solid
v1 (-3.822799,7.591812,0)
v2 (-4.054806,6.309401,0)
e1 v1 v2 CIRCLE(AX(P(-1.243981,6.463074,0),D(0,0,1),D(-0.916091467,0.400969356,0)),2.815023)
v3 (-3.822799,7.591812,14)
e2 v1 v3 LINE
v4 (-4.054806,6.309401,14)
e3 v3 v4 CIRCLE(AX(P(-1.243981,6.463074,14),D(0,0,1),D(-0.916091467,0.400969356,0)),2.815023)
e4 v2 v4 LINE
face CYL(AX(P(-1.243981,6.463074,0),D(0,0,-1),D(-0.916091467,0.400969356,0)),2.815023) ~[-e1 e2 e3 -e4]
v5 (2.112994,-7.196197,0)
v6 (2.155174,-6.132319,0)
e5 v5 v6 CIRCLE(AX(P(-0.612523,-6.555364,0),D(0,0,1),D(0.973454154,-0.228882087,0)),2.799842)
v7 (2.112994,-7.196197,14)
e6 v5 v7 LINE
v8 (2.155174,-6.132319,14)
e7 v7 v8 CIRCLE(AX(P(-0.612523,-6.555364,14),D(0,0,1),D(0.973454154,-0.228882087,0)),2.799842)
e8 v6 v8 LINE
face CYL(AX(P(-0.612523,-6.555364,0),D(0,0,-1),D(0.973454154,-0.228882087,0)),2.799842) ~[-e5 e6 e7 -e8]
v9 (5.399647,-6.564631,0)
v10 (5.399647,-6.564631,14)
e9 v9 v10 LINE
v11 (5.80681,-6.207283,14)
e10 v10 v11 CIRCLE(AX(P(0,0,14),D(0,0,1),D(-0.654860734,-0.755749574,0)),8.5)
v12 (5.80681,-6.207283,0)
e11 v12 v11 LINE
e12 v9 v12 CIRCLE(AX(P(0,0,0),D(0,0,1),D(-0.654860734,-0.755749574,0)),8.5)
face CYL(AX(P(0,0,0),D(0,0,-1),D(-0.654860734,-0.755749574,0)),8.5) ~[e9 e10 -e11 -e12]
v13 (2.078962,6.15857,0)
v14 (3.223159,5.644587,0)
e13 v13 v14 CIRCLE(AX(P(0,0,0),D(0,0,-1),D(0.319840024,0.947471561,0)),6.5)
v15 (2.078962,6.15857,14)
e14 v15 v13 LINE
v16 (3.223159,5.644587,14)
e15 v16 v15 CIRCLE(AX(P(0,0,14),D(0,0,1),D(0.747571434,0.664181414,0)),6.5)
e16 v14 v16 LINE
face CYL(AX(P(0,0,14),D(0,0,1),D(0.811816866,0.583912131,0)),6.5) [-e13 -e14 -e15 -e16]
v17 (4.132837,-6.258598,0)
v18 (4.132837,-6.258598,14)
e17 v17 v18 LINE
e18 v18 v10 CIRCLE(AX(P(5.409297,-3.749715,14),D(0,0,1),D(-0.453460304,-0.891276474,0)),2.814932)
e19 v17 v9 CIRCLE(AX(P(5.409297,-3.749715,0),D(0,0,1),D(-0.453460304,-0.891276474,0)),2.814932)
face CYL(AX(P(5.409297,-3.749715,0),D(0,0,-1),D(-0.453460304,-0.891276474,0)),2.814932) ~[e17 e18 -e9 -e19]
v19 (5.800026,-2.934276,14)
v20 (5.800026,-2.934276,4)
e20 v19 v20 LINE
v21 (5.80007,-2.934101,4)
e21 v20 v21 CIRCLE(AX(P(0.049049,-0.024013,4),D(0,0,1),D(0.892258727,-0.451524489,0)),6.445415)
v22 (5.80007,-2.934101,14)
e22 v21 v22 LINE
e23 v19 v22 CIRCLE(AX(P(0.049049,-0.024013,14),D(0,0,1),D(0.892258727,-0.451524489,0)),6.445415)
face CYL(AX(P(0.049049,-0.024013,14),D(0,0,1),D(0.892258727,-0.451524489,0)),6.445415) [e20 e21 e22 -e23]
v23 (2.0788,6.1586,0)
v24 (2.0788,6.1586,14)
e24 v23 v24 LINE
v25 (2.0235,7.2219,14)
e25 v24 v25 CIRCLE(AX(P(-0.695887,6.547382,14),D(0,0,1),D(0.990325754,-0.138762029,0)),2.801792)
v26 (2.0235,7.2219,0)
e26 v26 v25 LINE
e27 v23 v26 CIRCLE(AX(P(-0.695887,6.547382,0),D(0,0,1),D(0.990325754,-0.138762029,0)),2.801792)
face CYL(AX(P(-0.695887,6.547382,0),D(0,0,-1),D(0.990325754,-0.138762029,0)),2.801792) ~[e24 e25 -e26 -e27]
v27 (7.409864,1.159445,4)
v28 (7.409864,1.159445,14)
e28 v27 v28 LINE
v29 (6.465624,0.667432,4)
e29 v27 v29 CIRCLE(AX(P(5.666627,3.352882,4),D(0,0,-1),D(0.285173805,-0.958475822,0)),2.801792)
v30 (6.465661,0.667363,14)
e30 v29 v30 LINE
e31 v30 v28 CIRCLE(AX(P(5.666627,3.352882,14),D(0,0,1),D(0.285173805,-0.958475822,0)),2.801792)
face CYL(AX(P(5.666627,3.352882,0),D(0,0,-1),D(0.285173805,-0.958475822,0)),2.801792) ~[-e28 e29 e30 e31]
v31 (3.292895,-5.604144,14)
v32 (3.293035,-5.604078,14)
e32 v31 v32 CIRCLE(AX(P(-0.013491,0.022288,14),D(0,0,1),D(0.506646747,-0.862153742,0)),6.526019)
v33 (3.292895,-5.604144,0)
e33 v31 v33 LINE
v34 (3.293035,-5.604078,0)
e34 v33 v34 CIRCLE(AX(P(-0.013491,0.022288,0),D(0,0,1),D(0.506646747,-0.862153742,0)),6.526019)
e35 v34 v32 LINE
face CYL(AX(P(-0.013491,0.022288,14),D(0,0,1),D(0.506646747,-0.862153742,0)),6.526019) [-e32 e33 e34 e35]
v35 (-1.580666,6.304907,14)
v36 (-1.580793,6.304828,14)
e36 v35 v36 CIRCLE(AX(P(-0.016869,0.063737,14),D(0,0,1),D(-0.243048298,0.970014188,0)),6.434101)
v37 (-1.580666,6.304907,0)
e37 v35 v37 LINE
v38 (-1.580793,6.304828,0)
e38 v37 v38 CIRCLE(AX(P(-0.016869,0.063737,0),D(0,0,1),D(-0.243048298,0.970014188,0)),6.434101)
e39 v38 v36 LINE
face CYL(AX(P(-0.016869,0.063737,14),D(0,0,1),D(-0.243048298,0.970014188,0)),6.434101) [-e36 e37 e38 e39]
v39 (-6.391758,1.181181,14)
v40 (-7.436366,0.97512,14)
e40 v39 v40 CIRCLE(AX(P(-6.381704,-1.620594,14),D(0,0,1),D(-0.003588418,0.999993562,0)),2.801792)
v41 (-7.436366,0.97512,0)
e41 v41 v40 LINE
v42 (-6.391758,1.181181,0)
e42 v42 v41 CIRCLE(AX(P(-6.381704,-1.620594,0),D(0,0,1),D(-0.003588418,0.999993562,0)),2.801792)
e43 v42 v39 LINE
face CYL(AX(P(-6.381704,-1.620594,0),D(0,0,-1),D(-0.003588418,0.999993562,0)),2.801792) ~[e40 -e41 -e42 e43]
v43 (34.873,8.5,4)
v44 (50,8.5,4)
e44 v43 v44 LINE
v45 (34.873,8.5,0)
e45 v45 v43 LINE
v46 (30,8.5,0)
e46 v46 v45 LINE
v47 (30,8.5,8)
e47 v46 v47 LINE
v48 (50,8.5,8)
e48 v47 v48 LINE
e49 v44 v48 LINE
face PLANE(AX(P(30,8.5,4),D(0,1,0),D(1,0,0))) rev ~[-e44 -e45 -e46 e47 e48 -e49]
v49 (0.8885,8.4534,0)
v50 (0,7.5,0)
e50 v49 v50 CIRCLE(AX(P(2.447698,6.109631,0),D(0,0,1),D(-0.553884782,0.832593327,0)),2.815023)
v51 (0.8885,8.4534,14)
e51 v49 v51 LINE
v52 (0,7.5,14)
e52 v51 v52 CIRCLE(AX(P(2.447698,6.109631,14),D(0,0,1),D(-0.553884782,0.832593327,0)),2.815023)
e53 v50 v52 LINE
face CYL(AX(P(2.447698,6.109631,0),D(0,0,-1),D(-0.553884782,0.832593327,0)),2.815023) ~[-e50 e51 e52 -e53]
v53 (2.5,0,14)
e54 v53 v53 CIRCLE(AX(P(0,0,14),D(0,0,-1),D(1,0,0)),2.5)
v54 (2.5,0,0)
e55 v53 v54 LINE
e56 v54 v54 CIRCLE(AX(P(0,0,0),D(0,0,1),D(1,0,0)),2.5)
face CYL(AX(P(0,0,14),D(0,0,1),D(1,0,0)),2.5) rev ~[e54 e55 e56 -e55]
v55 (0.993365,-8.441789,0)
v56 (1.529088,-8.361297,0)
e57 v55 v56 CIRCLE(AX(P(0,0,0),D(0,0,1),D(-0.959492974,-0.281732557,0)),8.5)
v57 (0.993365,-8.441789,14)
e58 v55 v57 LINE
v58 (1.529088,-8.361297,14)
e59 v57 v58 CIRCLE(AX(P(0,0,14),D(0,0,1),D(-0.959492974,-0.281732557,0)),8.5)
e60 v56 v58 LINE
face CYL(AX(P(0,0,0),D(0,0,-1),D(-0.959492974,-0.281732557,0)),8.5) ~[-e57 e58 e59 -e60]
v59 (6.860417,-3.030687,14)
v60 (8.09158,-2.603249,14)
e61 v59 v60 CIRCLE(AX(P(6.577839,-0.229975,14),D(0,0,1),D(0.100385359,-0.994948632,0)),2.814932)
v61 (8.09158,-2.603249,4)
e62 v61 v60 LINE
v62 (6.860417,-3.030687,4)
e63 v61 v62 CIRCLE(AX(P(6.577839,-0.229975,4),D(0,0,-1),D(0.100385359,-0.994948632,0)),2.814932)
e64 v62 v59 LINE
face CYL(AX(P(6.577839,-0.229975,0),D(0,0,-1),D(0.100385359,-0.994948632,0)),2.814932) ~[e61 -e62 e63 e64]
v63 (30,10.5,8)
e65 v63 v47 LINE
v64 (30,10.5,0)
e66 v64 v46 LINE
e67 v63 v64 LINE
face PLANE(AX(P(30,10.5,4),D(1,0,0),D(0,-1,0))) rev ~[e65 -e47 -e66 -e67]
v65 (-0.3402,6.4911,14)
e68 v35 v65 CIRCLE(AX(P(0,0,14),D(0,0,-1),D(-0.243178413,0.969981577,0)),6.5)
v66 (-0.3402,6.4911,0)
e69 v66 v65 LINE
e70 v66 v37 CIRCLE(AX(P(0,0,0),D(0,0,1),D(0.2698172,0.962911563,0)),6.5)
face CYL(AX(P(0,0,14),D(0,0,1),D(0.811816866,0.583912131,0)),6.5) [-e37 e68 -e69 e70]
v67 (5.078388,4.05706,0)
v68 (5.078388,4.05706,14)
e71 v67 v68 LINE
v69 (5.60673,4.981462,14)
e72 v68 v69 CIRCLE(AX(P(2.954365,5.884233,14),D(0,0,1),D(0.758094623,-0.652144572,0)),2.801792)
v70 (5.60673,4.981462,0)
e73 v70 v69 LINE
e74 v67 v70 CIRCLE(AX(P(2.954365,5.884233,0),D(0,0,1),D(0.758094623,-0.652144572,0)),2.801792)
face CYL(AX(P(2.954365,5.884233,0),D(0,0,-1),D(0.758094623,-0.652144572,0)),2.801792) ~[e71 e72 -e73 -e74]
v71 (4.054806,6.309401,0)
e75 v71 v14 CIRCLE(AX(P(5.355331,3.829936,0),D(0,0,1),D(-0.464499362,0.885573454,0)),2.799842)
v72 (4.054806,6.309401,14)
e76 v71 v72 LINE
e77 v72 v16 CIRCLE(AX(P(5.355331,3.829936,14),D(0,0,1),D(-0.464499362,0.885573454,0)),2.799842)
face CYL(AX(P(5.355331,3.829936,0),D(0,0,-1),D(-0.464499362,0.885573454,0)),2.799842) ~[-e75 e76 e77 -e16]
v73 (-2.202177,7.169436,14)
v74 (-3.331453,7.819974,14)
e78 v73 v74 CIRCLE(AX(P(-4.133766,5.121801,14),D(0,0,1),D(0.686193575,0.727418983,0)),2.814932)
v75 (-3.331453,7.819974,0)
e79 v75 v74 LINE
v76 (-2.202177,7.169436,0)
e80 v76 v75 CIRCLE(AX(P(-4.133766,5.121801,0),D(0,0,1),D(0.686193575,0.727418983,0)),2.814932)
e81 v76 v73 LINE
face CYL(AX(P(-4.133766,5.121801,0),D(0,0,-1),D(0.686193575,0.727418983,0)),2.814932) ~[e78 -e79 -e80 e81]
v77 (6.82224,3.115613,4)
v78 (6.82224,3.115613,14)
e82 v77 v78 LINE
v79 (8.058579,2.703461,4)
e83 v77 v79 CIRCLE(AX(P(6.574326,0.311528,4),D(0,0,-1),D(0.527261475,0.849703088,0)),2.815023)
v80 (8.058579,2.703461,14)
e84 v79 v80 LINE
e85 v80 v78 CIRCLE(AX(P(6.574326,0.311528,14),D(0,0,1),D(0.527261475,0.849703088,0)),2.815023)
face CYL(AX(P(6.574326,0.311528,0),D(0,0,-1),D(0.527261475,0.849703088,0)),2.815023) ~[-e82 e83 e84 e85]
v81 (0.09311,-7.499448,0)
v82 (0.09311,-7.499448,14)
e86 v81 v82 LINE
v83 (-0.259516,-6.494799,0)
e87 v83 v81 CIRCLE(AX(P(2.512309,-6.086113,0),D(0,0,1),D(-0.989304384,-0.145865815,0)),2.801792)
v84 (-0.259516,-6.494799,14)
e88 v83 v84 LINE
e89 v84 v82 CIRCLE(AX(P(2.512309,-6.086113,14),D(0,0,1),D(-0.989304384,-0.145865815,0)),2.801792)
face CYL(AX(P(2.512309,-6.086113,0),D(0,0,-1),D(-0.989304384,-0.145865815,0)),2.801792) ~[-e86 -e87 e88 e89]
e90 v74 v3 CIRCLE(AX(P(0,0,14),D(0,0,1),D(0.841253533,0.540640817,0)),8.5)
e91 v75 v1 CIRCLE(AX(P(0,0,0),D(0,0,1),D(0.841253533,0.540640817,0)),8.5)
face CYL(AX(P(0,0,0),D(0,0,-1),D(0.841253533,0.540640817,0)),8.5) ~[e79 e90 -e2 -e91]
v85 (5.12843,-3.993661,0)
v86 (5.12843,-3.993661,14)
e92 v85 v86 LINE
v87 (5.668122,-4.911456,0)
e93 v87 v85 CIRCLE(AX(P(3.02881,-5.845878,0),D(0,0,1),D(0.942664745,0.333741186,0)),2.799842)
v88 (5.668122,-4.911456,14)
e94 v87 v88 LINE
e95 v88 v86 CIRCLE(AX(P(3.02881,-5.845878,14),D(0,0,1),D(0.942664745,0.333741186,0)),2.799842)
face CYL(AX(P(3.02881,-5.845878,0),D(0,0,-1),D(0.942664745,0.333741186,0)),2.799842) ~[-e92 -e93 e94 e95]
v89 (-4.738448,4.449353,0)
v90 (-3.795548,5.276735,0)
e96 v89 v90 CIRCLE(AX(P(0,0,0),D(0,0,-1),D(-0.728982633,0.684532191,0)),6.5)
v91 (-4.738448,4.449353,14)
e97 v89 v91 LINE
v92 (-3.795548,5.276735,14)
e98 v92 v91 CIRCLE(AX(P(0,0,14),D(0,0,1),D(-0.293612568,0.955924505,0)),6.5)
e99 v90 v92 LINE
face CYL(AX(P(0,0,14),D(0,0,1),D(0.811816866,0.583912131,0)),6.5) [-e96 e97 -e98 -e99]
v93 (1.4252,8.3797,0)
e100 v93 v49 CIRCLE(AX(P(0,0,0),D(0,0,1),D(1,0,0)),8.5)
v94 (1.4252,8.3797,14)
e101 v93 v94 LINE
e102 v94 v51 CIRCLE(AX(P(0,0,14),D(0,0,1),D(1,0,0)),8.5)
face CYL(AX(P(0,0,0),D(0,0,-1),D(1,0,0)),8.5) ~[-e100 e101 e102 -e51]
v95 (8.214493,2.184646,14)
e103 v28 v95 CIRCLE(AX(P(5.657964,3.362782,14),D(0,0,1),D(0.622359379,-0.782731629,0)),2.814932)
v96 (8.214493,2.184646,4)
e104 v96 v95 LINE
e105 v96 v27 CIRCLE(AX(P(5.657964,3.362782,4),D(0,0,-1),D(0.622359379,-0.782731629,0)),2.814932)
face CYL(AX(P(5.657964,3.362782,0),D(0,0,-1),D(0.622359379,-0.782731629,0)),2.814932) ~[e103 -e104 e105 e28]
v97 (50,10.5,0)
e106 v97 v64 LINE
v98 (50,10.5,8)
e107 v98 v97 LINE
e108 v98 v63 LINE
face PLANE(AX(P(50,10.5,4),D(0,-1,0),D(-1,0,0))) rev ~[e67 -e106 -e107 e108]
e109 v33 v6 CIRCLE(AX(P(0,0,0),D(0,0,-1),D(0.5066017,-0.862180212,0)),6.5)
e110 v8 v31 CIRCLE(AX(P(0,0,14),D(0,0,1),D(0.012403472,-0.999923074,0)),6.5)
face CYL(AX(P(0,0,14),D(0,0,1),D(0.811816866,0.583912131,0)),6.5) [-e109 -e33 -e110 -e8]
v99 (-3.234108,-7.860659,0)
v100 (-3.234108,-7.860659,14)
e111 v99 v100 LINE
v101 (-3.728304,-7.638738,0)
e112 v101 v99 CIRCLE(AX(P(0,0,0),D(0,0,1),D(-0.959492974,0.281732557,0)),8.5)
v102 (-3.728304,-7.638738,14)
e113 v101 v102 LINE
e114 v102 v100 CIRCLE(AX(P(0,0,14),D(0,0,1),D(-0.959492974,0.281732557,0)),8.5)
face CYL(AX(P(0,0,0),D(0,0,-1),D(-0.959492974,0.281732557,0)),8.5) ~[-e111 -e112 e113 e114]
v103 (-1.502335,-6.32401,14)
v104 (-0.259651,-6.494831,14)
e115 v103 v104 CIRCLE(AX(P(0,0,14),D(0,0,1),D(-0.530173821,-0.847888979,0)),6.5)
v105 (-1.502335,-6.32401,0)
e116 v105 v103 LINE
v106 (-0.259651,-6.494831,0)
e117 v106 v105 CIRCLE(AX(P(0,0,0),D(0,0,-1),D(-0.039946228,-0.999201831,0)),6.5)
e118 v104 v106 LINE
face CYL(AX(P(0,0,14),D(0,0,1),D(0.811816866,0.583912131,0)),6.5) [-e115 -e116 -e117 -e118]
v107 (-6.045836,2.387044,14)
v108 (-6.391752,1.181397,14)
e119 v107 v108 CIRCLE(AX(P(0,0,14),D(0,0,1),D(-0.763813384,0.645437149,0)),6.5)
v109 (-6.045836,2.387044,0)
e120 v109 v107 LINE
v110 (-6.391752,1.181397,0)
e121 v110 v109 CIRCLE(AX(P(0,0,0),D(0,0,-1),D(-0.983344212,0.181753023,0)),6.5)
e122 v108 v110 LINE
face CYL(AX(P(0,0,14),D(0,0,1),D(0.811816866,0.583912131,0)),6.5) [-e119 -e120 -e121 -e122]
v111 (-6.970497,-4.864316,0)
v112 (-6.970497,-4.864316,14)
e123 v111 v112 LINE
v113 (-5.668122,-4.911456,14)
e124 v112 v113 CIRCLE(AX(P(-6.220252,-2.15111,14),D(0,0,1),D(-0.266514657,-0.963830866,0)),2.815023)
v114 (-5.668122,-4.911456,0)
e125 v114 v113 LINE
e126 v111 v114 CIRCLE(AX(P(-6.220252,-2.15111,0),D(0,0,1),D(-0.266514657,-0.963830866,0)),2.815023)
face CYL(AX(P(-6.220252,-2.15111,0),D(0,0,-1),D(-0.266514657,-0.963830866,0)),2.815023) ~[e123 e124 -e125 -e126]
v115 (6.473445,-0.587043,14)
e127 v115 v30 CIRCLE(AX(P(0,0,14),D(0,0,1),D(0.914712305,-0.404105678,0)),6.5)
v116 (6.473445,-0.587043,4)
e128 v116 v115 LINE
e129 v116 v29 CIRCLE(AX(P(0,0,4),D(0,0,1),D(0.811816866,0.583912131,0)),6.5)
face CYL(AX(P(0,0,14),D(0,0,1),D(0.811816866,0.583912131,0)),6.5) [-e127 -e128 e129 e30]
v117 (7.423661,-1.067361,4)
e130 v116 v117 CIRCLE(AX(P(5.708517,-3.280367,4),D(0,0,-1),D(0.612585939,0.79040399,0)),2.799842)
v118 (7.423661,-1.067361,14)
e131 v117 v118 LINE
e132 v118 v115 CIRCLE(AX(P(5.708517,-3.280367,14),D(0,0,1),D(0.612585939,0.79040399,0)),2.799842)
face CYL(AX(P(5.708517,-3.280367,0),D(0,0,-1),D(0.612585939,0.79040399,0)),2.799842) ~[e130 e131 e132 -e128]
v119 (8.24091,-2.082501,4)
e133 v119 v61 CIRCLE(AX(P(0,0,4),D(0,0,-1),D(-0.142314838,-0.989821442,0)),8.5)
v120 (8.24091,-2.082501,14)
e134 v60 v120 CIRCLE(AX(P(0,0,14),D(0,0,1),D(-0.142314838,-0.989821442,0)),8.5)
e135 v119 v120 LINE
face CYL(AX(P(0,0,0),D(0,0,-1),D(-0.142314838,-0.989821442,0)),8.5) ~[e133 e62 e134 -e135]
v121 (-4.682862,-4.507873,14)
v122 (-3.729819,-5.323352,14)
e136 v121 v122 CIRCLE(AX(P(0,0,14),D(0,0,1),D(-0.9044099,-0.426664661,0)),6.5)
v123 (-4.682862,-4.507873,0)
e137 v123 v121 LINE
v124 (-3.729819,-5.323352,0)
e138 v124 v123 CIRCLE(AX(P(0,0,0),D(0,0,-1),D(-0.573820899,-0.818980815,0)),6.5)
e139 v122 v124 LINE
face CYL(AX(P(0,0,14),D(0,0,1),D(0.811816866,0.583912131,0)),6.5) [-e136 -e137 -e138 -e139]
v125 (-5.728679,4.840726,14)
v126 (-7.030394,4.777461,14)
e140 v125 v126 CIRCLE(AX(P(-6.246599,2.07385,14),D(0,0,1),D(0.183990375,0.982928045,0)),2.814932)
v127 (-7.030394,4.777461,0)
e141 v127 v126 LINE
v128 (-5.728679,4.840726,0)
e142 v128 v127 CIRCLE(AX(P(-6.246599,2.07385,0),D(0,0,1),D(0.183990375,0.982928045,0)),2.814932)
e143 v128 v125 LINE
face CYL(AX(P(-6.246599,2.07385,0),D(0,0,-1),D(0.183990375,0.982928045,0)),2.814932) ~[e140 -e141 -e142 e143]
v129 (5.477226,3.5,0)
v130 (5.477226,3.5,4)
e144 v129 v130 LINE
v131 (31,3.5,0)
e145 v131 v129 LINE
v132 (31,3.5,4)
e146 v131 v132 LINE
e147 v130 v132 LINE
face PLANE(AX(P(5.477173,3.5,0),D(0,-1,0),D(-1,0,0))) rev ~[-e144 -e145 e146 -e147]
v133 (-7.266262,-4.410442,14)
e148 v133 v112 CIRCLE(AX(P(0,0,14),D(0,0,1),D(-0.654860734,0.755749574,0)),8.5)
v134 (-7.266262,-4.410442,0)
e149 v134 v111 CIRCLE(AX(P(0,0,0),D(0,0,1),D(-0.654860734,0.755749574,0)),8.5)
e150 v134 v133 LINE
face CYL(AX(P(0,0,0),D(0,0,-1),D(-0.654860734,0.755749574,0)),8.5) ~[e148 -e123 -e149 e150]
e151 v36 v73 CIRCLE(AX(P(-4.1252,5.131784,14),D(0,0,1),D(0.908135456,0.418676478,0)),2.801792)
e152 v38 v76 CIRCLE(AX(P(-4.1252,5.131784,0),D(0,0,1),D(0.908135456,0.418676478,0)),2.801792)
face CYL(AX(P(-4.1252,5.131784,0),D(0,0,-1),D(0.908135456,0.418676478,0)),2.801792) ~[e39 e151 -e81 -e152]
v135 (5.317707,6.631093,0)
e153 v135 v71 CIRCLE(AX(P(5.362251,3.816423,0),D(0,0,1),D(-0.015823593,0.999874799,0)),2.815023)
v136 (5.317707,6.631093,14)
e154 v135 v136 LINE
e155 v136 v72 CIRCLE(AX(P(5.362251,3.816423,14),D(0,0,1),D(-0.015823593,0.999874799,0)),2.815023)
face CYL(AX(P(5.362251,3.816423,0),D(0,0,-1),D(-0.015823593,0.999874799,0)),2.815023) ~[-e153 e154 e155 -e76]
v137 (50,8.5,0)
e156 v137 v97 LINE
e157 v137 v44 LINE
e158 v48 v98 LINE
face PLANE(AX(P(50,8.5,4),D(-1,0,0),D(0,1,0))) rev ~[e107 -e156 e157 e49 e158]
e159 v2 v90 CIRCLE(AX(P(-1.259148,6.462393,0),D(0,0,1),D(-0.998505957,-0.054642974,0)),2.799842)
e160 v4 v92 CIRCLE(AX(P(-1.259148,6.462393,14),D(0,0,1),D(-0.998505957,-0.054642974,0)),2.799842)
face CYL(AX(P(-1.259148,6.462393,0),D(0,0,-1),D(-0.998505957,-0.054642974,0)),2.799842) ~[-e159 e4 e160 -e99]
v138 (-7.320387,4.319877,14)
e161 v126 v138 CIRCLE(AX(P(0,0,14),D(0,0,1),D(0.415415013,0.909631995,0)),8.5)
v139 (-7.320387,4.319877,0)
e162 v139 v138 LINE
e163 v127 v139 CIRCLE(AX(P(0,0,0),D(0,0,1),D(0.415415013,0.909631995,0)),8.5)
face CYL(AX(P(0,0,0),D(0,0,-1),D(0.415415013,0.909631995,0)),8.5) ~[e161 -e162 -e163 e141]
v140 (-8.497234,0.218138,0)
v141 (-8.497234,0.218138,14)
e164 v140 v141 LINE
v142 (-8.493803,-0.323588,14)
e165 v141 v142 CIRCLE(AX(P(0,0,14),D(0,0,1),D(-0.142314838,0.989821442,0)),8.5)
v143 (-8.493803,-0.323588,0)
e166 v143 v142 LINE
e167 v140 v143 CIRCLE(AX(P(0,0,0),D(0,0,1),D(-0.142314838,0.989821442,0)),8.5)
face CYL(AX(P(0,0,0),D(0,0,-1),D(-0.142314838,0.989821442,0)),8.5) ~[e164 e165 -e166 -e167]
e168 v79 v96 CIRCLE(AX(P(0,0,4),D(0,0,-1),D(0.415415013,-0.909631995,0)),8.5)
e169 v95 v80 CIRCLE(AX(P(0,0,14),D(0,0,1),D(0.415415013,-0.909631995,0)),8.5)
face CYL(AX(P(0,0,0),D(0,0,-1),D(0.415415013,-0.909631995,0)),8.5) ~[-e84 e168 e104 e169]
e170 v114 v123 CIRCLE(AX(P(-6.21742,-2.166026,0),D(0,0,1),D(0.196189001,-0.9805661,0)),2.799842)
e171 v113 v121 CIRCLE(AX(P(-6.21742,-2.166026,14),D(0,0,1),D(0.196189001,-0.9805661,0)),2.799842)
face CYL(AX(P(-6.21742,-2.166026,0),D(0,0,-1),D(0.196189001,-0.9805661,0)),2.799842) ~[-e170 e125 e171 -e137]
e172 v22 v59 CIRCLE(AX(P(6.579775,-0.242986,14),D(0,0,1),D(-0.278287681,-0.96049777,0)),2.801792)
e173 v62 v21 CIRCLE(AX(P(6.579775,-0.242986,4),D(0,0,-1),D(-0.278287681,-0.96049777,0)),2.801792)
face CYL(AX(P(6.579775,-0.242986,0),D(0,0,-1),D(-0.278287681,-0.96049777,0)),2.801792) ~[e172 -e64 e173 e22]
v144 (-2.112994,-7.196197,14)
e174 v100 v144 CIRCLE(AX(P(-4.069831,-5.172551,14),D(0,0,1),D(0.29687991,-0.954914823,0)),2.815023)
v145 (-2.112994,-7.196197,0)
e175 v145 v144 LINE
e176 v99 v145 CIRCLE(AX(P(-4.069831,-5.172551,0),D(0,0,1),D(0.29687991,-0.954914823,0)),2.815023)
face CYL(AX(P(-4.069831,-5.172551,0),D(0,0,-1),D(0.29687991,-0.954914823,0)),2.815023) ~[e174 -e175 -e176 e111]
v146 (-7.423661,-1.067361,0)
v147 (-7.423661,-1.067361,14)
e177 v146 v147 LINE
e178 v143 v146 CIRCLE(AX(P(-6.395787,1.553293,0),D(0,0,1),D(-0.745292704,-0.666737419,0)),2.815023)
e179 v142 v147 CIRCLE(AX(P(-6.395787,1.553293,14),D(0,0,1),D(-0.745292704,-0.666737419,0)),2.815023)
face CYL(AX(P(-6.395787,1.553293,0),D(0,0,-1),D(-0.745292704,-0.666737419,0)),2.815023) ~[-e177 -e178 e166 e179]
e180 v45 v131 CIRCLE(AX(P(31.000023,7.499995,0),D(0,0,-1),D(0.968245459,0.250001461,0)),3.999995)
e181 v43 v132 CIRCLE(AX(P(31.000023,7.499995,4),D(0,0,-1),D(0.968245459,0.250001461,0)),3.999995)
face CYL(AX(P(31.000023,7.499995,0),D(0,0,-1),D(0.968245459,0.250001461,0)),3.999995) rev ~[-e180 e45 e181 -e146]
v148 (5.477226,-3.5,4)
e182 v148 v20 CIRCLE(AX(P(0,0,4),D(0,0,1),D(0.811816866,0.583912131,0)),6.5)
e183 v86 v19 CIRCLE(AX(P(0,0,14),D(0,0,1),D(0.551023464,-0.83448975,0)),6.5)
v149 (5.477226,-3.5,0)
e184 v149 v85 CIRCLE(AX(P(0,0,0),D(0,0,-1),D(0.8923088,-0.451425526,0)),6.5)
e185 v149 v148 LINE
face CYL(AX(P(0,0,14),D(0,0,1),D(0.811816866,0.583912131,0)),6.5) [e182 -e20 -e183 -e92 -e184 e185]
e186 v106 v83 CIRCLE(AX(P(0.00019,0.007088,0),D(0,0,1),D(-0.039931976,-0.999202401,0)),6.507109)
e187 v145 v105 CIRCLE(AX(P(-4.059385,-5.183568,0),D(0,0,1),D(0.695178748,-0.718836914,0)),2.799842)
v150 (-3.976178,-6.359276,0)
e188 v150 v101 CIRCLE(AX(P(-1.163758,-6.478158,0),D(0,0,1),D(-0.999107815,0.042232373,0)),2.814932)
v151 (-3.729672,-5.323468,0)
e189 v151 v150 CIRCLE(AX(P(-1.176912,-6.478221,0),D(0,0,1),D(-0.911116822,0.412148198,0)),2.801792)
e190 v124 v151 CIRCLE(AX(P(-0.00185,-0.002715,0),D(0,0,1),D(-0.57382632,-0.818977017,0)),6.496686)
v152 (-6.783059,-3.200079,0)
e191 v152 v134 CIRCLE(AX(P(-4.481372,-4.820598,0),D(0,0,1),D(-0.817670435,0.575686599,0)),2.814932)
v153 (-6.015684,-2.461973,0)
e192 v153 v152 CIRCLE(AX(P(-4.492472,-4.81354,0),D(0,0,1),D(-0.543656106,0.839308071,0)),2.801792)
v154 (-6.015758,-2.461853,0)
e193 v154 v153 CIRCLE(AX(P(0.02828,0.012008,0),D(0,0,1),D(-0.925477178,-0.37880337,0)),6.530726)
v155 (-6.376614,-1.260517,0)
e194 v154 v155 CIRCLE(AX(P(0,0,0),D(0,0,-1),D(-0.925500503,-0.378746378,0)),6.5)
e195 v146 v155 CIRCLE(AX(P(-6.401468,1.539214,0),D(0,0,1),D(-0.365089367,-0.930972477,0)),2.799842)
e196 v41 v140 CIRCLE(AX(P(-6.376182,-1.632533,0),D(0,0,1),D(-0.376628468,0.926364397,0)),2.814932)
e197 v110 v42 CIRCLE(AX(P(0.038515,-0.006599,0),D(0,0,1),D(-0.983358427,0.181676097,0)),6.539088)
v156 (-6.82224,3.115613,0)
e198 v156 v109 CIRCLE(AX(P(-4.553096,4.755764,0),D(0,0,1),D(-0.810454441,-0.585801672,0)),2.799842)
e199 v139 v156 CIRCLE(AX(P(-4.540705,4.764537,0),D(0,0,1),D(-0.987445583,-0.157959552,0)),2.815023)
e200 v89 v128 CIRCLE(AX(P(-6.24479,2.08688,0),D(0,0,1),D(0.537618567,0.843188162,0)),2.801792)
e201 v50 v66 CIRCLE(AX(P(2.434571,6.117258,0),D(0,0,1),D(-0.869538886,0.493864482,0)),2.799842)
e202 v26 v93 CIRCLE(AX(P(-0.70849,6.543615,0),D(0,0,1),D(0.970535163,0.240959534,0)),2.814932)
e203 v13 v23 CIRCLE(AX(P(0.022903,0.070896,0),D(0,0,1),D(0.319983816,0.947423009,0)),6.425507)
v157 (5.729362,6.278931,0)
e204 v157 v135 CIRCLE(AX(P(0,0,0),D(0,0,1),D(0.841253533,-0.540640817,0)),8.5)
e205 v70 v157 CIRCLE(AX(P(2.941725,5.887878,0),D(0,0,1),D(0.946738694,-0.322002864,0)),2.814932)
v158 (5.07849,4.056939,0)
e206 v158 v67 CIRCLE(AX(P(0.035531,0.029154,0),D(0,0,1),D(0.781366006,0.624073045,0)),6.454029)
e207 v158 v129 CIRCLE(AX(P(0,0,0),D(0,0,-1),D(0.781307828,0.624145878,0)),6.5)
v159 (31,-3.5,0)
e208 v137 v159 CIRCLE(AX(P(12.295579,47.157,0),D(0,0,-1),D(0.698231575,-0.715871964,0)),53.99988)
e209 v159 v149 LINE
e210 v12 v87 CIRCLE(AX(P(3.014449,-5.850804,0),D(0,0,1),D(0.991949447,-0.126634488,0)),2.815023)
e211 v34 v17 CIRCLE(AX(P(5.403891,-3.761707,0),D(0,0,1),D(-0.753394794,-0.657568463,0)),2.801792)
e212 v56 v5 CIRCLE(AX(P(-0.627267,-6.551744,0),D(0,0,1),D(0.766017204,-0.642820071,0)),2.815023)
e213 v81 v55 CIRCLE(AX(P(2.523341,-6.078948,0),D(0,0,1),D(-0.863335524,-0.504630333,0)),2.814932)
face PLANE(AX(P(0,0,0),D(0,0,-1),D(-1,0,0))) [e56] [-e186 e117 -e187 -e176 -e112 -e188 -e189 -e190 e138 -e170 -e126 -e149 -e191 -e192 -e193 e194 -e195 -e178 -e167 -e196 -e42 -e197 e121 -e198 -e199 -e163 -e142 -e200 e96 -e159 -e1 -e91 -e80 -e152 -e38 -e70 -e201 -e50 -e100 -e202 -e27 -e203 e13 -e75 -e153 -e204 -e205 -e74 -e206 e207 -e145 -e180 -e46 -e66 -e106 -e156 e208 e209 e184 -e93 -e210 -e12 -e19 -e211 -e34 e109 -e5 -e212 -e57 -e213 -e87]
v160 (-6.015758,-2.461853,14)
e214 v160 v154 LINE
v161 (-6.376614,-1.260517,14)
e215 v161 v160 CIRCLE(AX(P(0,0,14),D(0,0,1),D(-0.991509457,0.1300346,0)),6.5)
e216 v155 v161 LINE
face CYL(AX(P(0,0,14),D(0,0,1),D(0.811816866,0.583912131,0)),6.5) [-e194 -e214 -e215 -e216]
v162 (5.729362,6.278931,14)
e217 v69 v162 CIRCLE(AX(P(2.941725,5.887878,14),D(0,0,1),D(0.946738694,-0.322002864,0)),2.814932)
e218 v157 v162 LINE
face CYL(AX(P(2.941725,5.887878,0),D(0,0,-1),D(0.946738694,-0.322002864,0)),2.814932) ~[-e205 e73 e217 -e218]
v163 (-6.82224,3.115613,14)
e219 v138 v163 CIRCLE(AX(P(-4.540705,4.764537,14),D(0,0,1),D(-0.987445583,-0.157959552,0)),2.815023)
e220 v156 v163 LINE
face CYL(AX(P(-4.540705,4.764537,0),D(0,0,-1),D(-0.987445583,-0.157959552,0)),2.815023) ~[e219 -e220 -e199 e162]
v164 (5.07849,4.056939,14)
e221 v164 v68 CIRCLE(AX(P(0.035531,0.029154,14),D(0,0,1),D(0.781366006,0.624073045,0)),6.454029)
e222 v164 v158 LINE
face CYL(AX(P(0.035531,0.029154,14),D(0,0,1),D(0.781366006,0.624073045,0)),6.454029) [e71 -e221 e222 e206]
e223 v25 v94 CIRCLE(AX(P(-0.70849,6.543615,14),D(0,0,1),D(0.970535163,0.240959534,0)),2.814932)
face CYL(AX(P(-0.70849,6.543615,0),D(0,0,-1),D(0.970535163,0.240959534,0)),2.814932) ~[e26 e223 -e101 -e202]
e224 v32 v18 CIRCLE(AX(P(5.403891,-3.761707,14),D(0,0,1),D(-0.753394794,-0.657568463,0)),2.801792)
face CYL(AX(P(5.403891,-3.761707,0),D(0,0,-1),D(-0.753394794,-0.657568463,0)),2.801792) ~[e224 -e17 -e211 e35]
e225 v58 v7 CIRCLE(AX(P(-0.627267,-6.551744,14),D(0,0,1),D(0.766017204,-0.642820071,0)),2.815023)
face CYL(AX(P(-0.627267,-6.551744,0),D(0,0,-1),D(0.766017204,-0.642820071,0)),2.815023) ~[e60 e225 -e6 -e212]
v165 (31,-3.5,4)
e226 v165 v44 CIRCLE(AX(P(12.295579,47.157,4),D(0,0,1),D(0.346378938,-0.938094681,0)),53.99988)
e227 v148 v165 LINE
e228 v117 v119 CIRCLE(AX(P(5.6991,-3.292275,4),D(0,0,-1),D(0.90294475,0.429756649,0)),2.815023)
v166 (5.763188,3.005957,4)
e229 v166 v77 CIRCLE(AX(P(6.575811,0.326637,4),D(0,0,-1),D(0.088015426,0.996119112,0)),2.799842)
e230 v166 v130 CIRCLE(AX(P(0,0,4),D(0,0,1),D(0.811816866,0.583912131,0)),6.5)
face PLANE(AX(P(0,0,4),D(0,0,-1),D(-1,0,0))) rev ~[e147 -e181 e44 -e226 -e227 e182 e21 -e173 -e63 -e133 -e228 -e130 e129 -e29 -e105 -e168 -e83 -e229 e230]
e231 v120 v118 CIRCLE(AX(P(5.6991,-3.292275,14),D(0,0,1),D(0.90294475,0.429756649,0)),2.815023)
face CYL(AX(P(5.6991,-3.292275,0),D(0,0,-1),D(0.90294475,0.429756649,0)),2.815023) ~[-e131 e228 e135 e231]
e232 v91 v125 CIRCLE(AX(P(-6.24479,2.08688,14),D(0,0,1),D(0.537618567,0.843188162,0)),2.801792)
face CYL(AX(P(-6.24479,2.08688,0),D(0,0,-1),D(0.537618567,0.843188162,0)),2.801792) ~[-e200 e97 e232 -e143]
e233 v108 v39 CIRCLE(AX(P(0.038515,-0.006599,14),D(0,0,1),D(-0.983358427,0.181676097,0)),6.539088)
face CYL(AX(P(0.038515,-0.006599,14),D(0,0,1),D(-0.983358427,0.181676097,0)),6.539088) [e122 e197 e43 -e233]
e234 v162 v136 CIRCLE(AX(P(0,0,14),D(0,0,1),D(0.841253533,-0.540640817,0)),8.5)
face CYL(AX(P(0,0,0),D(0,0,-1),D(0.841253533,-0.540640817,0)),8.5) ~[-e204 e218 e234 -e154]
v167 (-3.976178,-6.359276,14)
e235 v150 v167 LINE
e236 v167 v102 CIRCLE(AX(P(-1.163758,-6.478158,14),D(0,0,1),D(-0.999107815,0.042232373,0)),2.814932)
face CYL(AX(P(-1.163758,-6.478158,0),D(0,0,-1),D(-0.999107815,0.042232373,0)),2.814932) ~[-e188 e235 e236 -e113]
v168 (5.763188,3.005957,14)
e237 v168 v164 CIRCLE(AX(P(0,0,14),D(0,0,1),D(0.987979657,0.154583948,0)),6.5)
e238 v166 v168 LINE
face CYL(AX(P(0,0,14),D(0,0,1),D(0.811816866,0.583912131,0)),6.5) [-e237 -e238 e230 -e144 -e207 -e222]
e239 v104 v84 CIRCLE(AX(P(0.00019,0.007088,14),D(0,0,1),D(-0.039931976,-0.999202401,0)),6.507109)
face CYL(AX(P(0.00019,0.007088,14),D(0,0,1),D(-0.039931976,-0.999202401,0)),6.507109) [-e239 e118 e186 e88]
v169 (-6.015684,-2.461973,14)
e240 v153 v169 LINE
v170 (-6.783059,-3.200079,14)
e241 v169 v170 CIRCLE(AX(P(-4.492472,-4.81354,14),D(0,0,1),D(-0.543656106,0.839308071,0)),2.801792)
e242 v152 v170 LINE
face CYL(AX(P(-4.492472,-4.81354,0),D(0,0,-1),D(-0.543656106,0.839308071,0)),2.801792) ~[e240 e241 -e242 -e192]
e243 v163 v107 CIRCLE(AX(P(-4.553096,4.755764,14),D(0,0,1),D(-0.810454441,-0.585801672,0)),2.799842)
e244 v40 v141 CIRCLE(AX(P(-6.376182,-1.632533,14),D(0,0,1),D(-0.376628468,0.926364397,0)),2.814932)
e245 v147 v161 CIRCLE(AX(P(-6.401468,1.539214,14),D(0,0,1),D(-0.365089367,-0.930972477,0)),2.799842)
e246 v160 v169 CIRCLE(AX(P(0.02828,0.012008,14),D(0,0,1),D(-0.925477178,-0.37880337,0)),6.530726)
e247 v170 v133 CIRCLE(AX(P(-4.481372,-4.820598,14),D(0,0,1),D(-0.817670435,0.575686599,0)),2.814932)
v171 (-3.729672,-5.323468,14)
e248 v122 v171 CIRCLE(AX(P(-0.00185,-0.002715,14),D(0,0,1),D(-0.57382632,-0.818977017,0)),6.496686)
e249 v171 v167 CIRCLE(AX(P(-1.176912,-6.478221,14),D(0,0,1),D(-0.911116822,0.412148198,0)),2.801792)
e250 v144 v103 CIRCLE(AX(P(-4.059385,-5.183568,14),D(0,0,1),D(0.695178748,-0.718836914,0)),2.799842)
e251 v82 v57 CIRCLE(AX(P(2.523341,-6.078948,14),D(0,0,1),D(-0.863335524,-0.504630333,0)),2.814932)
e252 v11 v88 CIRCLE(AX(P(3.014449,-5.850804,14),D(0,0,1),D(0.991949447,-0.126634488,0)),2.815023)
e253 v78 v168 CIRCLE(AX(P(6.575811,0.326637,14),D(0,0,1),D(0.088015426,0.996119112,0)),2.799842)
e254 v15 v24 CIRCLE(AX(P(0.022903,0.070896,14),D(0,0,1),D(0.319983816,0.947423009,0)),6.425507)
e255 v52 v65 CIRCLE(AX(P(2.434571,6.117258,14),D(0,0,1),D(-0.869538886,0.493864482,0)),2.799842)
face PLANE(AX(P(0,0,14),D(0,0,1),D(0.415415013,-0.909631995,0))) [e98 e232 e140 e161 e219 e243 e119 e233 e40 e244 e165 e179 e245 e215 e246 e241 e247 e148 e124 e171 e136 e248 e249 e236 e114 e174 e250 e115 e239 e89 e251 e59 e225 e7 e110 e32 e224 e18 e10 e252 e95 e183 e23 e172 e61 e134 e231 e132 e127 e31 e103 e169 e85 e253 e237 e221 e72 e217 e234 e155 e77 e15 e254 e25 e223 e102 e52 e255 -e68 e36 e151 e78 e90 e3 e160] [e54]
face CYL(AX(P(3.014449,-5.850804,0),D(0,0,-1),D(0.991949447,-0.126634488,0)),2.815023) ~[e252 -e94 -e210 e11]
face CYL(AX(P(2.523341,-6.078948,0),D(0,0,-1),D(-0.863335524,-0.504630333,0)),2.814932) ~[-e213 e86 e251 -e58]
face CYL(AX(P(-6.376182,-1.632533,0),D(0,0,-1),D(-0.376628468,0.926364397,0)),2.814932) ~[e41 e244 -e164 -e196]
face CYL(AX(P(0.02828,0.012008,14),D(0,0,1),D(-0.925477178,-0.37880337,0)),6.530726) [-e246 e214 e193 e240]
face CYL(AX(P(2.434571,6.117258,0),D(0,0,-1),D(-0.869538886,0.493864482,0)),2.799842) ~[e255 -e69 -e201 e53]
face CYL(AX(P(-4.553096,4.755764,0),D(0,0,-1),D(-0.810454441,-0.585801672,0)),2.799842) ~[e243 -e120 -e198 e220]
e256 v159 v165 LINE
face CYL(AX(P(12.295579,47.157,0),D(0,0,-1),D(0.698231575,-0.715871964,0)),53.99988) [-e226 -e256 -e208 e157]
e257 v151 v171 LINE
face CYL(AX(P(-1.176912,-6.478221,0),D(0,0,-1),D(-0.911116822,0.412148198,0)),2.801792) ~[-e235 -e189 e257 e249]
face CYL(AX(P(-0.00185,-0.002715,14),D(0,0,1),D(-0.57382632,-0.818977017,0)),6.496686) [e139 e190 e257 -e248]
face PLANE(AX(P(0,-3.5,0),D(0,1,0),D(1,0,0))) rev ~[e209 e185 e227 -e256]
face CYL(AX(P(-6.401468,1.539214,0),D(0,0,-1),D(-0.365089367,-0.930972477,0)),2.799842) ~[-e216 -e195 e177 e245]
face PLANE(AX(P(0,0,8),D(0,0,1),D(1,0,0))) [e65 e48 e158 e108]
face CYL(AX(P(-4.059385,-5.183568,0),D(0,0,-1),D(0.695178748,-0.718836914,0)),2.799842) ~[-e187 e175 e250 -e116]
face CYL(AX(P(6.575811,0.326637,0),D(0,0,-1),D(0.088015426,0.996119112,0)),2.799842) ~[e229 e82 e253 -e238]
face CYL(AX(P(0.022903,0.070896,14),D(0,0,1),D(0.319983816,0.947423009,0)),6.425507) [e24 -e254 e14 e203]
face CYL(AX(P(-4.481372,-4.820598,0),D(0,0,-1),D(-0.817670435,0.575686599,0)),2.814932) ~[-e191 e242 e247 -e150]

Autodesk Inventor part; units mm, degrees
ref_plane "YZ Plane" through (0, 0, 0) normal (1, 0, 0) x (0, 1, 0)
ref_plane "XZ Plane" through (0, 0, 0) normal (0, 1, 0) x (-1, 0, 0)
ref_plane "XY Plane" through (0, 0, 0) normal (0, 0, 1) x (1, 0, 0)
sketch "Skizze1" plane through (0, 0, 0) normal (0, 0, 1) x (1, 0, 0)
  circle A0 centre (0, 0) radius 7.5
  circle A1 centre (0, 0) radius 2
  circle A2 centre (0, 0) radius 6.5
  circle A3 centre (0, 0) radius 8.5
  line L0 (0, 11.9067) -> (0, -11.9011) projected
  line L1 (-11.9, 0) -> (11.9, 0) projected
  line L2 (0, 0) -> (2.2933, 8.1848)
  line L3 (0, 0) -> (4.4165, 7.2626)
  arc A4 (0, 7.5) -> (-0.3402, 6.4911) centre (2.4347, 6.1172) ccw
  arc A5 (0.8885, 8.4534) -> (0, 7.5) centre (2.4473, 6.1101) ccw
  arc A6 (2.0235, 7.2219) -> (1.4252, 8.3797) centre (-0.708, 6.5438) ccw
  arc A7 (2.0788, 6.1586) -> (2.0235, 7.2219) centre (-0.694, 6.5473) ccw
  line L4 (0, 0) -> (-0.3402, 6.4911)
  line L5 (0, 0) -> (2.0788, 6.1586)
  line L6 (0.8885, 8.4534) -> (0, 0)
  line L7 (0, 0) -> (1.4252, 8.3797)
  arc A8 (0, 7.5) -> (-0.3402, 6.4911) centre (2.4347, 6.1172) ccw
  arc A9 (0.8885, 8.4534) -> (0, 7.5) centre (2.4473, 6.1101) ccw
  arc A10 (2.0235, 7.2219) -> (1.4252, 8.3797) centre (-0.708, 6.5438) ccw
  arc A11 (2.0788, 6.1586) -> (2.0235, 7.2219) centre (-0.694, 6.5473) ccw
  arc A12 (2.0788, 6.1586) -> (-0.3402, 6.4911) centre (0, 0) ccw
  dimension "d0" = 15
  dimension "d1" = 4
  dimension "d2" = 1
  dimension "d3" = 1
  dimension "d4" = 15.652
  dimension "d5" = 15.652
  dimension "d6" = 3
  dimension "d7" = 3
  dimension "d9" = 6
  dimension "d10" = 6
  dimension "d11" = 2.8
  dimension "d12" = 2.8
extrude "Extrusion1" add sketch "Skizze1" along normal blind 14 contours L2 A2 L7 A0 | A7 A2 L2 | A0 L7 A6 | L7 A2 L6 A0 | A0 L6 A3 L7 | L2 A1 L7 A2 | A5 L6 A0 | A0 L6 A2 L0 | L0 A2 A4 | L4 A1 L0 | L7 A1 L2 | L0 A1 L6 | L6 A1 L7 | L7 A1 L6 A2 | L0 A1 L4 A2 | A2 L6 A1 L0
pattern_circular "Runde Anordnung1" count 11 over 360 about axis through (0, 0, -10) along (0, 0, 1) of "Extrusion1"
sketch "Skizze2" plane through (0, 0, 14) normal (0, 0, 1) x (0.8118, 0.5839, 0)
  arc A0 (5.6575, 6.3437) -> (4.3795, 6.0885) centre (5.5546, 3.5312) ccw projected
  arc A1 (6.0501, 5.9705) -> (5.6575, 6.3437) centre (0, 0) ccw projected
  arc A2 (5.8597, 4.6812) -> (6.0501, 5.9705) centre (3.2463, 5.7257) ccw projected
  arc A3 (5.2838, 3.7857) -> (5.8597, 4.6812) centre (3.2597, 5.7204) ccw projected
  arc A4 (5.2838, 3.7857) -> (5.0784, 4.057) centre (0, 0) ccw projected
  line L0 (5.0784, 4.057) -> (0, 0) projected
  line L1 (0, 0) -> (5.9126, 2.7002) projected
  arc A5 (6.9759, 2.7543) -> (5.9126, 2.7002) centre (6.5839, -0.0181) ccw projected
  arc A6 (8.1891, 2.278) -> (6.9759, 2.7543) centre (6.5819, -0.0324) ccw projected
  arc A7 (8.3175, 1.7518) -> (8.1891, 2.278) centre (0, 0) ccw projected
  arc A8 (7.4604, 0.7701) -> (8.3175, 1.7518) centre (5.8266, 3.0617) ccw projected
  arc A9 (6.4917, 0.3281) -> (7.4604, 0.7701) centre (5.8349, 3.05) ccw projected
  arc A10 (6.4917, 0.3281) -> (6.4656, 0.6674) centre (0, 0) ccw projected
  line L2 (6.4656, 0.6674) -> (0, 0) projected
  line L3 (0, 0) -> (-4.9124, -4.2566) projected
  arc A11 (-5.9174, -4.6081) -> (-4.9124, -4.2566) centre (-6.3224, -1.8375) ccw projected
  arc A12 (-7.2155, -4.4929) -> (-5.9174, -4.6081) centre (-6.3244, -1.8233) ccw projected
  arc A13 (-7.4871, -4.0241) -> (-7.2155, -4.4929) centre (0, 0) ccw projected
  arc A14 (-6.9412, -2.8407) -> (-7.4871, -4.0241) centre (-4.728, -4.5792) ccw projected
  arc A15 (-6.1363, -2.1437) -> (-6.9412, -2.8407) centre (-4.7393, -4.5703) ccw projected
  arc A16 (-6.1363, -2.1437) -> (-6.0157, -2.4619) centre (0, 0) ccw projected
  line L4 (-6.0157, -2.4619) -> (0, 0) projected
  line L5 (-6.3918, 1.1812) -> (0, 0) projected
  arc A17 (-6.3212, 1.5141) -> (-6.3918, 1.1812) centre (0, 0) ccw projected
  arc A18 (-6.3212, 1.5141) -> (-7.3751, 1.363) centre (-6.4578, -1.2825) ccw projected
  arc A19 (-7.3751, 1.363) -> (-8.4741, 0.6625) centre (-6.4531, -1.2961) ccw projected
  arc A20 (-8.4741, 0.6625) -> (-8.4991, 0.1214) centre (0, 0) ccw projected
  arc A21 (-8.4991, 0.1214) -> (-7.4693, -0.6774) centre (-6.3062, 1.8854) ccw projected
  arc A22 (-7.4693, -0.6774) -> (-6.4338, -0.925) centre (-6.3121, 1.8723) ccw projected
  line L6 (0, 0) -> (-6.4338, -0.925) projected
  line L7 (-3.7297, -5.3235) -> (0, 0) projected
  arc A23 (-4.0032, -5.121) -> (-3.7297, -5.3235) centre (0, 0) ccw projected
  arc A24 (-4.0032, -5.121) -> (-4.3035, -6.1425) centre (-1.516, -6.4071) ccw projected
  arc A25 (-4.3035, -6.1425) -> (-4.1229, -7.4331) centre (-1.5017, -6.4084) ccw projected
  arc A26 (-4.1229, -7.4331) -> (-3.6411, -7.6807) centre (0, 0) ccw projected
  arc A27 (-3.6411, -7.6807) -> (-2.4867, -7.0757) centre (-4.3347, -4.9531) ccw projected
  arc A28 (-2.4867, -7.0757) -> (-1.8313, -6.2367) centre (-4.3253, -4.9639) ccw projected
  line L8 (0, 0) -> (-1.8313, -6.2367) projected
  arc A29 (4.3795, 6.0885) -> (3.5142, 5.4681) centre (5.5486, 3.5443) ccw projected
  line L9 (0, 0) -> (3.5142, 5.4681) projected
  line L10 (-4.7385, 4.4494) -> (0, 0) projected
  line L11 (0, 0) -> (1.8313, -6.2367) projected
  arc A30 (1.7335, -7.2969) -> (1.8313, -6.2367) centre (-0.9549, -6.5144) ccw projected
  arc A31 (1.0894, -8.4299) -> (1.7335, -7.2969) centre (-0.9688, -6.5103) ccw projected
  arc A32 (0.5502, -8.4822) -> (1.0894, -8.4299) centre (0, 0) ccw projected
  arc A33 (-0.2995, -7.494) -> (0.5502, -8.4822) centre (2.2013, -6.203) ccw projected
  arc A34 (-0.5991, -6.4723) -> (-0.2995, -7.494) centre (2.1885, -6.2096) ccw projected
  arc A35 (-0.5991, -6.4723) -> (-0.2596, -6.4948) centre (0, 0) ccw projected
  line L12 (-0.2596, -6.4948) -> (0, 0) projected
  line L13 (-1.5808, 6.3049) -> (0, 0) projected
  arc A36 (-1.2486, 6.3789) -> (-1.5808, 6.3049) centre (0, 0) ccw projected
  arc A37 (-1.2486, 6.3789) -> (-1.824, 7.2748) centre (-3.8493, 5.3415) ccw projected
  arc A38 (-1.824, 7.2748) -> (-2.9176, 7.9836) centre (-3.8597, 5.3315) ccw projected
  arc A39 (-2.9176, 7.9836) -> (-3.4203, 7.7815) centre (0, 0) ccw projected
  arc A40 (-3.4203, 7.7815) -> (-3.719, 6.513) centre (-0.9047, 6.5195) ccw projected
  arc A41 (-3.719, 6.513) -> (-3.5142, 5.4681) centre (-0.919, 6.5195) ccw projected
  line L14 (0, 0) -> (-3.5142, 5.4681) projected
  line L15 (3.293, -5.6041) -> (0, 0) projected
  arc A42 (2.9952, -5.7688) -> (3.293, -5.6041) centre (0, 0) ccw projected
  arc A43 (2.9952, -5.7688) -> (3.7996, -6.4663) centre (5.1983, -4.0406) ccw projected
  arc A44 (3.7996, -6.4663) -> (5.0487, -6.8382) centre (5.2055, -4.0282) ccw projected
  arc A45 (5.0487, -6.8382) -> (5.474, -6.5027) centre (0, 0) ccw projected
  arc A46 (5.474, -6.5027) -> (5.4033, -5.2014) centre (2.7048, -6.0006) ccw projected
  arc A47 (5.4033, -5.2014) -> (4.9124, -4.2566) centre (2.7186, -5.9965) ccw projected
  line L16 (0, 0) -> (4.9124, -4.2566) projected
  arc A48 (-4.4991, 4.6913) -> (-4.7385, 4.4494) centre (0, 0) ccw projected
  arc A49 (-4.4991, 4.6913) -> (-5.4675, 5.1339) centre (-6.1261, 2.4124) ccw projected
  arc A50 (-5.4675, 5.1339) -> (-6.7707, 5.1388) centre (-6.1295, 2.3984) ccw projected
  arc A51 (-6.7707, 5.1388) -> (-7.0843, 4.6971) centre (0, 0) ccw projected
  arc A52 (-7.0843, 4.6971) -> (-6.6498, 3.4684) centre (-4.2858, 4.9955) ccw projected
  arc A53 (-6.6498, 3.4684) -> (-5.9126, 2.7002) centre (-4.2979, 4.9877) ccw projected
  line L17 (0, 0) -> (-5.9126, 2.7002) projected
  line L18 (2.0788, 6.1586) -> (0, 0) projected
  line L19 (0, 0) -> (6.4338, -0.925) projected
  arc A54 (7.3576, -1.4544) -> (6.4338, -0.925) centre (5.529, -3.5748) ccw projected
  arc A55 (8.1207, -2.5109) -> (7.3576, -1.4544) centre (5.5196, -3.5857) ccw projected
  arc A56 (7.9442, -3.0231) -> (8.1207, -2.5109) centre (0, 0) ccw projected
  arc A57 (6.6924, -3.3856) -> (7.9442, -3.0231) centre (6.5569, -0.5744) ccw projected
  arc A58 (5.6386, -3.2337) -> (6.6924, -3.3856) centre (6.5576, -0.5888) ccw projected
  arc A59 (5.6386, -3.2337) -> (5.8001, -2.9341) centre (0, 0) ccw projected
  line L20 (5.8001, -2.9341) -> (0, 0) projected
  arc A60 (2.3983, 6.0414) -> (2.0788, 6.1586) centre (0, 0) ccw projected
  arc A61 (2.3983, 6.0414) -> (2.3987, 7.1061) centre (-0.3504, 6.5746) ccw projected
  arc A62 (2.3987, 7.1061) -> (1.8618, 8.2936) centre (-0.3646, 6.5719) ccw projected
  arc A63 (1.8618, 8.2936) -> (1.3297, 8.3954) centre (0, 0) ccw projected
  arc A64 (1.3297, 8.3954) -> (0.3925, 7.4897) centre (2.7637, 5.9737) ccw projected
  arc A65 (0.3925, 7.4897) -> (0, 6.5) centre (2.7516, 5.9814) ccw projected
  line L21 (0, 0) -> (0, 6.5) projected
  circle A66 centre (0, 0) radius 6.5
extrude "Extrusion2" add sketch "Skizze2" against normal blind 14 contours A66 L0 L9 | L9 L18 A60 A66 | L0 A4 A66 L1 | L1 A66 L2 | L7 A23 A66 L3 | L3 A66 L4 | L6 A66 L5 | L4 A16 A66 L6 | L8 A66 L7 | L12 A35 A66 L8 | L17 A66 L10 | L15 A42 A66 L11 | L11 A66 L12 | L14 A66 L13 | L10 A48 A66 L14 | L16 A66 L15 | L20 A59 A66 L16 | L5 A17 A66 L17 | L21 A66 L18 | L2 A10 A66 L19 | L19 A66 L20 | L13 A36 A66 L21
sketch "Skizze3" plane through (0, 0, 0) normal (0, 0, -1) x (-1, 0, 0)
  line L0 (0, -19.7919) -> (0, 59.2516) projected
  line L1 (-62.4254, 0) -> (20.3695, 0) projected
  arc A0 (0, 7.5) -> (-0.8885, 8.4534) centre (-2.4473, 6.1101) ccw projected
  arc A1 (0.3402, 6.4911) -> (0, 7.5) centre (-2.4347, 6.1172) ccw projected
  arc A2 (1.5808, 6.3049) -> (0.3402, 6.4911) centre (0, 0) ccw projected
  arc A3 (2.2022, 7.1694) -> (1.5808, 6.3049) centre (4.1236, 5.1327) ccw projected
  arc A4 (3.3315, 7.8199) -> (2.2022, 7.1694) centre (4.1335, 5.1222) ccw projected
  arc A5 (3.8228, 7.5918) -> (3.3315, 7.8199) centre (0, 0) ccw projected
  arc A6 (4.0548, 6.3094) -> (3.8228, 7.5918) centre (1.2446, 6.4633) ccw projected
  arc A7 (3.7955, 5.2767) -> (4.0548, 6.3094) centre (1.259, 6.4625) ccw projected
  arc A8 (4.7385, 4.4494) -> (3.7955, 5.2767) centre (0, 0) ccw projected
  arc A9 (5.7287, 4.8407) -> (4.7385, 4.4494) centre (6.2439, 2.0885) ccw projected
  arc A10 (7.0304, 4.7774) -> (5.7287, 4.8407) centre (6.2466, 2.0744) ccw projected
  arc A11 (7.3204, 4.3199) -> (7.0304, 4.7774) centre (0, 0) ccw projected
  arc A12 (6.8222, 3.1156) -> (7.3204, 4.3199) centre (4.5413, 4.7644) ccw projected
  arc A13 (6.0458, 2.3871) -> (6.8222, 3.1156) centre (4.553, 4.7559) ccw projected
  arc A14 (6.3918, 1.1812) -> (6.0458, 2.3871) centre (0, 0) ccw projected
  arc A15 (7.4363, 0.9751) -> (6.3918, 1.1812) centre (6.3819, -1.6188) ccw projected
  arc A16 (8.4972, 0.2181) -> (7.4363, 0.9751) centre (6.3765, -1.6321) ccw projected
  arc A17 (8.4938, -0.3236) -> (8.4972, 0.2181) centre (0, 0) ccw projected
  arc A18 (7.4237, -1.0674) -> (8.4938, -0.3236) centre (6.3962, 1.5528) ccw projected
  arc A19 (6.3766, -1.2605) -> (7.4237, -1.0674) centre (6.4015, 1.5394) ccw projected
  arc A20 (6.0157, -2.4619) -> (6.3766, -1.2605) centre (0, 0) ccw projected
  arc A21 (6.783, -3.2001) -> (6.0157, -2.4619) centre (4.4936, -4.8121) ccw projected
  arc A22 (7.2662, -4.4104) -> (6.783, -3.2001) centre (4.4818, -4.8204) ccw projected
  arc A23 (6.9705, -4.8643) -> (7.2662, -4.4104) centre (0, 0) ccw projected
  arc A24 (5.6681, -4.9115) -> (6.9705, -4.8643) centre (6.2204, -2.1518) ccw projected
  arc A25 (4.6829, -4.5079) -> (5.6681, -4.9115) centre (6.2175, -2.1659) ccw projected
  arc A26 (3.7297, -5.3235) -> (4.6829, -4.5079) centre (0, 0) ccw projected
  arc A27 (3.9761, -6.3593) -> (3.7297, -5.3235) centre (1.1787, -6.4776) ccw projected
  arc A28 (3.7283, -7.6387) -> (3.9761, -6.3593) centre (1.1643, -6.4782) ccw projected
  arc A29 (3.2341, -7.8607) -> (3.7283, -7.6387) centre (0, 0) ccw projected
  arc A30 (2.113, -7.1962) -> (3.2341, -7.8607) centre (4.0696, -5.1732) ccw projected
  arc A31 (1.5023, -6.324) -> (2.113, -7.1962) centre (4.0595, -5.1835) ccw projected
  arc A32 (0.2596, -6.4948) -> (1.5023, -6.324) centre (0, 0) ccw projected
  arc A33 (-0.0931, -7.4994) -> (0.2596, -6.4948) centre (-2.5105, -6.0865) ccw projected
  arc A34 (-0.9934, -8.4418) -> (-0.0931, -7.4994) centre (-2.5229, -6.0793) ccw projected
  arc A35 (-1.5291, -8.3613) -> (-0.9934, -8.4418) centre (0, 0) ccw projected
  arc A36 (-2.113, -7.1962) -> (-1.5291, -8.3613) centre (0.6267, -6.5521) ccw projected
  arc A37 (-2.1552, -6.1323) -> (-2.113, -7.1962) centre (0.6127, -6.5554) ccw projected
  arc A38 (-3.293, -5.6041) -> (-2.1552, -6.1323) centre (0, 0) ccw projected
  arc A39 (-4.1328, -6.2586) -> (-3.293, -5.6041) centre (-5.4026, -3.763) ccw projected
  arc A40 (-5.3996, -6.5646) -> (-4.1328, -6.2586) centre (-5.4091, -3.7502) ccw projected
  arc A41 (-5.8068, -6.2073) -> (-5.3996, -6.5646) centre (0, 0) ccw projected
  arc A42 (-5.6681, -4.9115) -> (-5.8068, -6.2073) centre (-3.0151, -5.8508) ccw projected
  arc A43 (-5.1284, -3.9937) -> (-5.6681, -4.9115) centre (-3.0287, -5.846) ccw projected
  arc A44 (-5.8001, -2.9341) -> (-5.1284, -3.9937) centre (0, 0) ccw projected
  arc A45 (-6.8604, -3.0307) -> (-5.8001, -2.9341) centre (-6.5794, -0.2448) ccw projected
  arc A46 (-8.0916, -2.6032) -> (-6.8604, -3.0307) centre (-6.578, -0.2305) ccw projected
  arc A47 (-8.2409, -2.0825) -> (-8.0916, -2.6032) centre (0, 0) ccw projected
  arc A48 (-7.4237, -1.0674) -> (-8.2409, -2.0825) centre (-5.6997, -3.2919) ccw projected
  arc A49 (-6.4734, -0.5871) -> (-7.4237, -1.0674) centre (-5.7085, -3.2805) ccw projected
  arc A50 (-6.4656, 0.6674) -> (-6.4734, -0.5871) centre (0, 0) ccw projected
  arc A51 (-7.4098, 1.1595) -> (-6.4656, 0.6674) centre (-5.6673, 3.3512) ccw projected
  arc A52 (-8.2145, 2.1847) -> (-7.4098, 1.1595) centre (-5.6583, 3.3624) ccw projected
  arc A53 (-8.0586, 2.7035) -> (-8.2145, 2.1847) centre (0, 0) ccw projected
  arc A54 (-6.8222, 3.1156) -> (-8.0586, 2.7035) centre (-6.5746, 0.3121) ccw projected
  arc A55 (-5.7632, 3.0059) -> (-6.8222, 3.1156) centre (-6.5759, 0.3265) ccw projected
  arc A56 (-5.0784, 4.057) -> (-5.7632, 3.0059) centre (0, 0) ccw projected
  arc A57 (-5.6067, 4.9815) -> (-5.0784, 4.057) centre (-2.9559, 5.8832) ccw projected
  arc A58 (-5.7293, 6.2789) -> (-5.6067, 4.9815) centre (-2.9422, 5.8878) ccw projected
  arc A59 (-5.3177, 6.6311) -> (-5.7293, 6.2789) centre (0, 0) ccw projected
  arc A60 (-4.0548, 6.3094) -> (-5.3177, 6.6311) centre (-5.3622, 3.8171) ccw projected
  arc A61 (-3.2232, 5.6446) -> (-4.0548, 6.3094) centre (-5.3555, 3.8298) ccw projected
  arc A62 (-2.0788, 6.1586) -> (-3.2232, 5.6446) centre (0, 0) ccw projected
  arc A63 (-2.0235, 7.2219) -> (-2.0788, 6.1586) centre (0.694, 6.5473) ccw projected
  arc A64 (-1.4252, 8.3797) -> (-2.0235, 7.2219) centre (0.708, 6.5438) ccw projected
  arc A65 (-0.8885, 8.4534) -> (-1.4252, 8.3797) centre (0, 0) ccw projected
  circle A66 centre (0, 0) radius 3.5
  line L2 (-50, 10.5) -> (-30, 10.5)
  line L3 (-30, 10.5) -> (-30, 8.5)
  line L4 (-30, 8.5) -> (-50, 8.5)
  line L5 (-50, 8.5) -> (-50, 10.5)
  circle A67 centre (0, 0) radius 8.5
  arc A68 (-5.3177, 6.6311) -> (-5.7293, 6.2789) centre (0, 0) ccw projected
  line L6 (0, -3.5) -> (-31, -3.5)
  line L7 (-31, -3.5) -> (-31, 3.5)
  line L8 (-31, 3.5) -> (0, 3.5)
  line L9 (0, 3.5) -> (0, -3.5)
  arc A69 (-34.873, 8.5) -> (-31, 3.5) centre (-31, 7.5) ccw
  arc A70 (-50, 8.5) -> (-31, -3.5) centre (-12.2955, 47.1571) ccw
  dimension "d24" = 7
  dimension "d20" = 2
  dimension "d21" = 0
  dimension "d22" = 50
  dimension "d23" = 30
  dimension "d25" = 54
  dimension "d26" = 7
  dimension "d27" = 4
  dimension "d28" = 31
extrude "Extrusion3" add sketch "Skizze3" against normal blind 4 contours A66 L1 L0 | L0 L1 A66 | A66 L1 A50 A51 A52 A53 A54 A55 A56 L8 | L1 A66 L0 | L0 A66 L1 | A66 L6 A44 A45 A46 A47 A48 A49 A50 L1 | A56 A55 A54 A67 L8 | A50 A49 A48 A67 L1 | L1 A67 A52 A51 A50 | A67 A53 L1 L7 L8 | L6 A67 A46 A45 A44 | A67 A47 L6 L7 L1 | L7 L1 A70 L4 A69 | L7 A70 L1 | L4 L5 L2 L3
sketch "Skizze4" plane through (0, 0, 14) normal (0, 0, 1) x (1, 0, 0)
  circle A0 centre (0, 0) radius 2.5
  dimension "d31" = 5
extrude "Extrusion4" cut sketch "Skizze4" against normal through all
sketch "Skizze5" plane through (0, 0, 4) normal (0, 0, 1) x (1, 0, 0)
  line L0 (30, 8.5) -> (50, 8.5)
  line L1 (50, 8.5) -> (50, 10.5)
  line L2 (50, 10.5) -> (30, 10.5)
  line L3 (30, 10.5) -> (30, 8.5)
  point P0 (0, 0)
extrude "Extrusion5" add sketch "Skizze5" along normal blind 4
equation "\"d5\" = d4"
equation "\"d7\" = d6"
equation "\"d12\" = d11"
properties part number "Greifer2" material "ABS-Kunststoff"
